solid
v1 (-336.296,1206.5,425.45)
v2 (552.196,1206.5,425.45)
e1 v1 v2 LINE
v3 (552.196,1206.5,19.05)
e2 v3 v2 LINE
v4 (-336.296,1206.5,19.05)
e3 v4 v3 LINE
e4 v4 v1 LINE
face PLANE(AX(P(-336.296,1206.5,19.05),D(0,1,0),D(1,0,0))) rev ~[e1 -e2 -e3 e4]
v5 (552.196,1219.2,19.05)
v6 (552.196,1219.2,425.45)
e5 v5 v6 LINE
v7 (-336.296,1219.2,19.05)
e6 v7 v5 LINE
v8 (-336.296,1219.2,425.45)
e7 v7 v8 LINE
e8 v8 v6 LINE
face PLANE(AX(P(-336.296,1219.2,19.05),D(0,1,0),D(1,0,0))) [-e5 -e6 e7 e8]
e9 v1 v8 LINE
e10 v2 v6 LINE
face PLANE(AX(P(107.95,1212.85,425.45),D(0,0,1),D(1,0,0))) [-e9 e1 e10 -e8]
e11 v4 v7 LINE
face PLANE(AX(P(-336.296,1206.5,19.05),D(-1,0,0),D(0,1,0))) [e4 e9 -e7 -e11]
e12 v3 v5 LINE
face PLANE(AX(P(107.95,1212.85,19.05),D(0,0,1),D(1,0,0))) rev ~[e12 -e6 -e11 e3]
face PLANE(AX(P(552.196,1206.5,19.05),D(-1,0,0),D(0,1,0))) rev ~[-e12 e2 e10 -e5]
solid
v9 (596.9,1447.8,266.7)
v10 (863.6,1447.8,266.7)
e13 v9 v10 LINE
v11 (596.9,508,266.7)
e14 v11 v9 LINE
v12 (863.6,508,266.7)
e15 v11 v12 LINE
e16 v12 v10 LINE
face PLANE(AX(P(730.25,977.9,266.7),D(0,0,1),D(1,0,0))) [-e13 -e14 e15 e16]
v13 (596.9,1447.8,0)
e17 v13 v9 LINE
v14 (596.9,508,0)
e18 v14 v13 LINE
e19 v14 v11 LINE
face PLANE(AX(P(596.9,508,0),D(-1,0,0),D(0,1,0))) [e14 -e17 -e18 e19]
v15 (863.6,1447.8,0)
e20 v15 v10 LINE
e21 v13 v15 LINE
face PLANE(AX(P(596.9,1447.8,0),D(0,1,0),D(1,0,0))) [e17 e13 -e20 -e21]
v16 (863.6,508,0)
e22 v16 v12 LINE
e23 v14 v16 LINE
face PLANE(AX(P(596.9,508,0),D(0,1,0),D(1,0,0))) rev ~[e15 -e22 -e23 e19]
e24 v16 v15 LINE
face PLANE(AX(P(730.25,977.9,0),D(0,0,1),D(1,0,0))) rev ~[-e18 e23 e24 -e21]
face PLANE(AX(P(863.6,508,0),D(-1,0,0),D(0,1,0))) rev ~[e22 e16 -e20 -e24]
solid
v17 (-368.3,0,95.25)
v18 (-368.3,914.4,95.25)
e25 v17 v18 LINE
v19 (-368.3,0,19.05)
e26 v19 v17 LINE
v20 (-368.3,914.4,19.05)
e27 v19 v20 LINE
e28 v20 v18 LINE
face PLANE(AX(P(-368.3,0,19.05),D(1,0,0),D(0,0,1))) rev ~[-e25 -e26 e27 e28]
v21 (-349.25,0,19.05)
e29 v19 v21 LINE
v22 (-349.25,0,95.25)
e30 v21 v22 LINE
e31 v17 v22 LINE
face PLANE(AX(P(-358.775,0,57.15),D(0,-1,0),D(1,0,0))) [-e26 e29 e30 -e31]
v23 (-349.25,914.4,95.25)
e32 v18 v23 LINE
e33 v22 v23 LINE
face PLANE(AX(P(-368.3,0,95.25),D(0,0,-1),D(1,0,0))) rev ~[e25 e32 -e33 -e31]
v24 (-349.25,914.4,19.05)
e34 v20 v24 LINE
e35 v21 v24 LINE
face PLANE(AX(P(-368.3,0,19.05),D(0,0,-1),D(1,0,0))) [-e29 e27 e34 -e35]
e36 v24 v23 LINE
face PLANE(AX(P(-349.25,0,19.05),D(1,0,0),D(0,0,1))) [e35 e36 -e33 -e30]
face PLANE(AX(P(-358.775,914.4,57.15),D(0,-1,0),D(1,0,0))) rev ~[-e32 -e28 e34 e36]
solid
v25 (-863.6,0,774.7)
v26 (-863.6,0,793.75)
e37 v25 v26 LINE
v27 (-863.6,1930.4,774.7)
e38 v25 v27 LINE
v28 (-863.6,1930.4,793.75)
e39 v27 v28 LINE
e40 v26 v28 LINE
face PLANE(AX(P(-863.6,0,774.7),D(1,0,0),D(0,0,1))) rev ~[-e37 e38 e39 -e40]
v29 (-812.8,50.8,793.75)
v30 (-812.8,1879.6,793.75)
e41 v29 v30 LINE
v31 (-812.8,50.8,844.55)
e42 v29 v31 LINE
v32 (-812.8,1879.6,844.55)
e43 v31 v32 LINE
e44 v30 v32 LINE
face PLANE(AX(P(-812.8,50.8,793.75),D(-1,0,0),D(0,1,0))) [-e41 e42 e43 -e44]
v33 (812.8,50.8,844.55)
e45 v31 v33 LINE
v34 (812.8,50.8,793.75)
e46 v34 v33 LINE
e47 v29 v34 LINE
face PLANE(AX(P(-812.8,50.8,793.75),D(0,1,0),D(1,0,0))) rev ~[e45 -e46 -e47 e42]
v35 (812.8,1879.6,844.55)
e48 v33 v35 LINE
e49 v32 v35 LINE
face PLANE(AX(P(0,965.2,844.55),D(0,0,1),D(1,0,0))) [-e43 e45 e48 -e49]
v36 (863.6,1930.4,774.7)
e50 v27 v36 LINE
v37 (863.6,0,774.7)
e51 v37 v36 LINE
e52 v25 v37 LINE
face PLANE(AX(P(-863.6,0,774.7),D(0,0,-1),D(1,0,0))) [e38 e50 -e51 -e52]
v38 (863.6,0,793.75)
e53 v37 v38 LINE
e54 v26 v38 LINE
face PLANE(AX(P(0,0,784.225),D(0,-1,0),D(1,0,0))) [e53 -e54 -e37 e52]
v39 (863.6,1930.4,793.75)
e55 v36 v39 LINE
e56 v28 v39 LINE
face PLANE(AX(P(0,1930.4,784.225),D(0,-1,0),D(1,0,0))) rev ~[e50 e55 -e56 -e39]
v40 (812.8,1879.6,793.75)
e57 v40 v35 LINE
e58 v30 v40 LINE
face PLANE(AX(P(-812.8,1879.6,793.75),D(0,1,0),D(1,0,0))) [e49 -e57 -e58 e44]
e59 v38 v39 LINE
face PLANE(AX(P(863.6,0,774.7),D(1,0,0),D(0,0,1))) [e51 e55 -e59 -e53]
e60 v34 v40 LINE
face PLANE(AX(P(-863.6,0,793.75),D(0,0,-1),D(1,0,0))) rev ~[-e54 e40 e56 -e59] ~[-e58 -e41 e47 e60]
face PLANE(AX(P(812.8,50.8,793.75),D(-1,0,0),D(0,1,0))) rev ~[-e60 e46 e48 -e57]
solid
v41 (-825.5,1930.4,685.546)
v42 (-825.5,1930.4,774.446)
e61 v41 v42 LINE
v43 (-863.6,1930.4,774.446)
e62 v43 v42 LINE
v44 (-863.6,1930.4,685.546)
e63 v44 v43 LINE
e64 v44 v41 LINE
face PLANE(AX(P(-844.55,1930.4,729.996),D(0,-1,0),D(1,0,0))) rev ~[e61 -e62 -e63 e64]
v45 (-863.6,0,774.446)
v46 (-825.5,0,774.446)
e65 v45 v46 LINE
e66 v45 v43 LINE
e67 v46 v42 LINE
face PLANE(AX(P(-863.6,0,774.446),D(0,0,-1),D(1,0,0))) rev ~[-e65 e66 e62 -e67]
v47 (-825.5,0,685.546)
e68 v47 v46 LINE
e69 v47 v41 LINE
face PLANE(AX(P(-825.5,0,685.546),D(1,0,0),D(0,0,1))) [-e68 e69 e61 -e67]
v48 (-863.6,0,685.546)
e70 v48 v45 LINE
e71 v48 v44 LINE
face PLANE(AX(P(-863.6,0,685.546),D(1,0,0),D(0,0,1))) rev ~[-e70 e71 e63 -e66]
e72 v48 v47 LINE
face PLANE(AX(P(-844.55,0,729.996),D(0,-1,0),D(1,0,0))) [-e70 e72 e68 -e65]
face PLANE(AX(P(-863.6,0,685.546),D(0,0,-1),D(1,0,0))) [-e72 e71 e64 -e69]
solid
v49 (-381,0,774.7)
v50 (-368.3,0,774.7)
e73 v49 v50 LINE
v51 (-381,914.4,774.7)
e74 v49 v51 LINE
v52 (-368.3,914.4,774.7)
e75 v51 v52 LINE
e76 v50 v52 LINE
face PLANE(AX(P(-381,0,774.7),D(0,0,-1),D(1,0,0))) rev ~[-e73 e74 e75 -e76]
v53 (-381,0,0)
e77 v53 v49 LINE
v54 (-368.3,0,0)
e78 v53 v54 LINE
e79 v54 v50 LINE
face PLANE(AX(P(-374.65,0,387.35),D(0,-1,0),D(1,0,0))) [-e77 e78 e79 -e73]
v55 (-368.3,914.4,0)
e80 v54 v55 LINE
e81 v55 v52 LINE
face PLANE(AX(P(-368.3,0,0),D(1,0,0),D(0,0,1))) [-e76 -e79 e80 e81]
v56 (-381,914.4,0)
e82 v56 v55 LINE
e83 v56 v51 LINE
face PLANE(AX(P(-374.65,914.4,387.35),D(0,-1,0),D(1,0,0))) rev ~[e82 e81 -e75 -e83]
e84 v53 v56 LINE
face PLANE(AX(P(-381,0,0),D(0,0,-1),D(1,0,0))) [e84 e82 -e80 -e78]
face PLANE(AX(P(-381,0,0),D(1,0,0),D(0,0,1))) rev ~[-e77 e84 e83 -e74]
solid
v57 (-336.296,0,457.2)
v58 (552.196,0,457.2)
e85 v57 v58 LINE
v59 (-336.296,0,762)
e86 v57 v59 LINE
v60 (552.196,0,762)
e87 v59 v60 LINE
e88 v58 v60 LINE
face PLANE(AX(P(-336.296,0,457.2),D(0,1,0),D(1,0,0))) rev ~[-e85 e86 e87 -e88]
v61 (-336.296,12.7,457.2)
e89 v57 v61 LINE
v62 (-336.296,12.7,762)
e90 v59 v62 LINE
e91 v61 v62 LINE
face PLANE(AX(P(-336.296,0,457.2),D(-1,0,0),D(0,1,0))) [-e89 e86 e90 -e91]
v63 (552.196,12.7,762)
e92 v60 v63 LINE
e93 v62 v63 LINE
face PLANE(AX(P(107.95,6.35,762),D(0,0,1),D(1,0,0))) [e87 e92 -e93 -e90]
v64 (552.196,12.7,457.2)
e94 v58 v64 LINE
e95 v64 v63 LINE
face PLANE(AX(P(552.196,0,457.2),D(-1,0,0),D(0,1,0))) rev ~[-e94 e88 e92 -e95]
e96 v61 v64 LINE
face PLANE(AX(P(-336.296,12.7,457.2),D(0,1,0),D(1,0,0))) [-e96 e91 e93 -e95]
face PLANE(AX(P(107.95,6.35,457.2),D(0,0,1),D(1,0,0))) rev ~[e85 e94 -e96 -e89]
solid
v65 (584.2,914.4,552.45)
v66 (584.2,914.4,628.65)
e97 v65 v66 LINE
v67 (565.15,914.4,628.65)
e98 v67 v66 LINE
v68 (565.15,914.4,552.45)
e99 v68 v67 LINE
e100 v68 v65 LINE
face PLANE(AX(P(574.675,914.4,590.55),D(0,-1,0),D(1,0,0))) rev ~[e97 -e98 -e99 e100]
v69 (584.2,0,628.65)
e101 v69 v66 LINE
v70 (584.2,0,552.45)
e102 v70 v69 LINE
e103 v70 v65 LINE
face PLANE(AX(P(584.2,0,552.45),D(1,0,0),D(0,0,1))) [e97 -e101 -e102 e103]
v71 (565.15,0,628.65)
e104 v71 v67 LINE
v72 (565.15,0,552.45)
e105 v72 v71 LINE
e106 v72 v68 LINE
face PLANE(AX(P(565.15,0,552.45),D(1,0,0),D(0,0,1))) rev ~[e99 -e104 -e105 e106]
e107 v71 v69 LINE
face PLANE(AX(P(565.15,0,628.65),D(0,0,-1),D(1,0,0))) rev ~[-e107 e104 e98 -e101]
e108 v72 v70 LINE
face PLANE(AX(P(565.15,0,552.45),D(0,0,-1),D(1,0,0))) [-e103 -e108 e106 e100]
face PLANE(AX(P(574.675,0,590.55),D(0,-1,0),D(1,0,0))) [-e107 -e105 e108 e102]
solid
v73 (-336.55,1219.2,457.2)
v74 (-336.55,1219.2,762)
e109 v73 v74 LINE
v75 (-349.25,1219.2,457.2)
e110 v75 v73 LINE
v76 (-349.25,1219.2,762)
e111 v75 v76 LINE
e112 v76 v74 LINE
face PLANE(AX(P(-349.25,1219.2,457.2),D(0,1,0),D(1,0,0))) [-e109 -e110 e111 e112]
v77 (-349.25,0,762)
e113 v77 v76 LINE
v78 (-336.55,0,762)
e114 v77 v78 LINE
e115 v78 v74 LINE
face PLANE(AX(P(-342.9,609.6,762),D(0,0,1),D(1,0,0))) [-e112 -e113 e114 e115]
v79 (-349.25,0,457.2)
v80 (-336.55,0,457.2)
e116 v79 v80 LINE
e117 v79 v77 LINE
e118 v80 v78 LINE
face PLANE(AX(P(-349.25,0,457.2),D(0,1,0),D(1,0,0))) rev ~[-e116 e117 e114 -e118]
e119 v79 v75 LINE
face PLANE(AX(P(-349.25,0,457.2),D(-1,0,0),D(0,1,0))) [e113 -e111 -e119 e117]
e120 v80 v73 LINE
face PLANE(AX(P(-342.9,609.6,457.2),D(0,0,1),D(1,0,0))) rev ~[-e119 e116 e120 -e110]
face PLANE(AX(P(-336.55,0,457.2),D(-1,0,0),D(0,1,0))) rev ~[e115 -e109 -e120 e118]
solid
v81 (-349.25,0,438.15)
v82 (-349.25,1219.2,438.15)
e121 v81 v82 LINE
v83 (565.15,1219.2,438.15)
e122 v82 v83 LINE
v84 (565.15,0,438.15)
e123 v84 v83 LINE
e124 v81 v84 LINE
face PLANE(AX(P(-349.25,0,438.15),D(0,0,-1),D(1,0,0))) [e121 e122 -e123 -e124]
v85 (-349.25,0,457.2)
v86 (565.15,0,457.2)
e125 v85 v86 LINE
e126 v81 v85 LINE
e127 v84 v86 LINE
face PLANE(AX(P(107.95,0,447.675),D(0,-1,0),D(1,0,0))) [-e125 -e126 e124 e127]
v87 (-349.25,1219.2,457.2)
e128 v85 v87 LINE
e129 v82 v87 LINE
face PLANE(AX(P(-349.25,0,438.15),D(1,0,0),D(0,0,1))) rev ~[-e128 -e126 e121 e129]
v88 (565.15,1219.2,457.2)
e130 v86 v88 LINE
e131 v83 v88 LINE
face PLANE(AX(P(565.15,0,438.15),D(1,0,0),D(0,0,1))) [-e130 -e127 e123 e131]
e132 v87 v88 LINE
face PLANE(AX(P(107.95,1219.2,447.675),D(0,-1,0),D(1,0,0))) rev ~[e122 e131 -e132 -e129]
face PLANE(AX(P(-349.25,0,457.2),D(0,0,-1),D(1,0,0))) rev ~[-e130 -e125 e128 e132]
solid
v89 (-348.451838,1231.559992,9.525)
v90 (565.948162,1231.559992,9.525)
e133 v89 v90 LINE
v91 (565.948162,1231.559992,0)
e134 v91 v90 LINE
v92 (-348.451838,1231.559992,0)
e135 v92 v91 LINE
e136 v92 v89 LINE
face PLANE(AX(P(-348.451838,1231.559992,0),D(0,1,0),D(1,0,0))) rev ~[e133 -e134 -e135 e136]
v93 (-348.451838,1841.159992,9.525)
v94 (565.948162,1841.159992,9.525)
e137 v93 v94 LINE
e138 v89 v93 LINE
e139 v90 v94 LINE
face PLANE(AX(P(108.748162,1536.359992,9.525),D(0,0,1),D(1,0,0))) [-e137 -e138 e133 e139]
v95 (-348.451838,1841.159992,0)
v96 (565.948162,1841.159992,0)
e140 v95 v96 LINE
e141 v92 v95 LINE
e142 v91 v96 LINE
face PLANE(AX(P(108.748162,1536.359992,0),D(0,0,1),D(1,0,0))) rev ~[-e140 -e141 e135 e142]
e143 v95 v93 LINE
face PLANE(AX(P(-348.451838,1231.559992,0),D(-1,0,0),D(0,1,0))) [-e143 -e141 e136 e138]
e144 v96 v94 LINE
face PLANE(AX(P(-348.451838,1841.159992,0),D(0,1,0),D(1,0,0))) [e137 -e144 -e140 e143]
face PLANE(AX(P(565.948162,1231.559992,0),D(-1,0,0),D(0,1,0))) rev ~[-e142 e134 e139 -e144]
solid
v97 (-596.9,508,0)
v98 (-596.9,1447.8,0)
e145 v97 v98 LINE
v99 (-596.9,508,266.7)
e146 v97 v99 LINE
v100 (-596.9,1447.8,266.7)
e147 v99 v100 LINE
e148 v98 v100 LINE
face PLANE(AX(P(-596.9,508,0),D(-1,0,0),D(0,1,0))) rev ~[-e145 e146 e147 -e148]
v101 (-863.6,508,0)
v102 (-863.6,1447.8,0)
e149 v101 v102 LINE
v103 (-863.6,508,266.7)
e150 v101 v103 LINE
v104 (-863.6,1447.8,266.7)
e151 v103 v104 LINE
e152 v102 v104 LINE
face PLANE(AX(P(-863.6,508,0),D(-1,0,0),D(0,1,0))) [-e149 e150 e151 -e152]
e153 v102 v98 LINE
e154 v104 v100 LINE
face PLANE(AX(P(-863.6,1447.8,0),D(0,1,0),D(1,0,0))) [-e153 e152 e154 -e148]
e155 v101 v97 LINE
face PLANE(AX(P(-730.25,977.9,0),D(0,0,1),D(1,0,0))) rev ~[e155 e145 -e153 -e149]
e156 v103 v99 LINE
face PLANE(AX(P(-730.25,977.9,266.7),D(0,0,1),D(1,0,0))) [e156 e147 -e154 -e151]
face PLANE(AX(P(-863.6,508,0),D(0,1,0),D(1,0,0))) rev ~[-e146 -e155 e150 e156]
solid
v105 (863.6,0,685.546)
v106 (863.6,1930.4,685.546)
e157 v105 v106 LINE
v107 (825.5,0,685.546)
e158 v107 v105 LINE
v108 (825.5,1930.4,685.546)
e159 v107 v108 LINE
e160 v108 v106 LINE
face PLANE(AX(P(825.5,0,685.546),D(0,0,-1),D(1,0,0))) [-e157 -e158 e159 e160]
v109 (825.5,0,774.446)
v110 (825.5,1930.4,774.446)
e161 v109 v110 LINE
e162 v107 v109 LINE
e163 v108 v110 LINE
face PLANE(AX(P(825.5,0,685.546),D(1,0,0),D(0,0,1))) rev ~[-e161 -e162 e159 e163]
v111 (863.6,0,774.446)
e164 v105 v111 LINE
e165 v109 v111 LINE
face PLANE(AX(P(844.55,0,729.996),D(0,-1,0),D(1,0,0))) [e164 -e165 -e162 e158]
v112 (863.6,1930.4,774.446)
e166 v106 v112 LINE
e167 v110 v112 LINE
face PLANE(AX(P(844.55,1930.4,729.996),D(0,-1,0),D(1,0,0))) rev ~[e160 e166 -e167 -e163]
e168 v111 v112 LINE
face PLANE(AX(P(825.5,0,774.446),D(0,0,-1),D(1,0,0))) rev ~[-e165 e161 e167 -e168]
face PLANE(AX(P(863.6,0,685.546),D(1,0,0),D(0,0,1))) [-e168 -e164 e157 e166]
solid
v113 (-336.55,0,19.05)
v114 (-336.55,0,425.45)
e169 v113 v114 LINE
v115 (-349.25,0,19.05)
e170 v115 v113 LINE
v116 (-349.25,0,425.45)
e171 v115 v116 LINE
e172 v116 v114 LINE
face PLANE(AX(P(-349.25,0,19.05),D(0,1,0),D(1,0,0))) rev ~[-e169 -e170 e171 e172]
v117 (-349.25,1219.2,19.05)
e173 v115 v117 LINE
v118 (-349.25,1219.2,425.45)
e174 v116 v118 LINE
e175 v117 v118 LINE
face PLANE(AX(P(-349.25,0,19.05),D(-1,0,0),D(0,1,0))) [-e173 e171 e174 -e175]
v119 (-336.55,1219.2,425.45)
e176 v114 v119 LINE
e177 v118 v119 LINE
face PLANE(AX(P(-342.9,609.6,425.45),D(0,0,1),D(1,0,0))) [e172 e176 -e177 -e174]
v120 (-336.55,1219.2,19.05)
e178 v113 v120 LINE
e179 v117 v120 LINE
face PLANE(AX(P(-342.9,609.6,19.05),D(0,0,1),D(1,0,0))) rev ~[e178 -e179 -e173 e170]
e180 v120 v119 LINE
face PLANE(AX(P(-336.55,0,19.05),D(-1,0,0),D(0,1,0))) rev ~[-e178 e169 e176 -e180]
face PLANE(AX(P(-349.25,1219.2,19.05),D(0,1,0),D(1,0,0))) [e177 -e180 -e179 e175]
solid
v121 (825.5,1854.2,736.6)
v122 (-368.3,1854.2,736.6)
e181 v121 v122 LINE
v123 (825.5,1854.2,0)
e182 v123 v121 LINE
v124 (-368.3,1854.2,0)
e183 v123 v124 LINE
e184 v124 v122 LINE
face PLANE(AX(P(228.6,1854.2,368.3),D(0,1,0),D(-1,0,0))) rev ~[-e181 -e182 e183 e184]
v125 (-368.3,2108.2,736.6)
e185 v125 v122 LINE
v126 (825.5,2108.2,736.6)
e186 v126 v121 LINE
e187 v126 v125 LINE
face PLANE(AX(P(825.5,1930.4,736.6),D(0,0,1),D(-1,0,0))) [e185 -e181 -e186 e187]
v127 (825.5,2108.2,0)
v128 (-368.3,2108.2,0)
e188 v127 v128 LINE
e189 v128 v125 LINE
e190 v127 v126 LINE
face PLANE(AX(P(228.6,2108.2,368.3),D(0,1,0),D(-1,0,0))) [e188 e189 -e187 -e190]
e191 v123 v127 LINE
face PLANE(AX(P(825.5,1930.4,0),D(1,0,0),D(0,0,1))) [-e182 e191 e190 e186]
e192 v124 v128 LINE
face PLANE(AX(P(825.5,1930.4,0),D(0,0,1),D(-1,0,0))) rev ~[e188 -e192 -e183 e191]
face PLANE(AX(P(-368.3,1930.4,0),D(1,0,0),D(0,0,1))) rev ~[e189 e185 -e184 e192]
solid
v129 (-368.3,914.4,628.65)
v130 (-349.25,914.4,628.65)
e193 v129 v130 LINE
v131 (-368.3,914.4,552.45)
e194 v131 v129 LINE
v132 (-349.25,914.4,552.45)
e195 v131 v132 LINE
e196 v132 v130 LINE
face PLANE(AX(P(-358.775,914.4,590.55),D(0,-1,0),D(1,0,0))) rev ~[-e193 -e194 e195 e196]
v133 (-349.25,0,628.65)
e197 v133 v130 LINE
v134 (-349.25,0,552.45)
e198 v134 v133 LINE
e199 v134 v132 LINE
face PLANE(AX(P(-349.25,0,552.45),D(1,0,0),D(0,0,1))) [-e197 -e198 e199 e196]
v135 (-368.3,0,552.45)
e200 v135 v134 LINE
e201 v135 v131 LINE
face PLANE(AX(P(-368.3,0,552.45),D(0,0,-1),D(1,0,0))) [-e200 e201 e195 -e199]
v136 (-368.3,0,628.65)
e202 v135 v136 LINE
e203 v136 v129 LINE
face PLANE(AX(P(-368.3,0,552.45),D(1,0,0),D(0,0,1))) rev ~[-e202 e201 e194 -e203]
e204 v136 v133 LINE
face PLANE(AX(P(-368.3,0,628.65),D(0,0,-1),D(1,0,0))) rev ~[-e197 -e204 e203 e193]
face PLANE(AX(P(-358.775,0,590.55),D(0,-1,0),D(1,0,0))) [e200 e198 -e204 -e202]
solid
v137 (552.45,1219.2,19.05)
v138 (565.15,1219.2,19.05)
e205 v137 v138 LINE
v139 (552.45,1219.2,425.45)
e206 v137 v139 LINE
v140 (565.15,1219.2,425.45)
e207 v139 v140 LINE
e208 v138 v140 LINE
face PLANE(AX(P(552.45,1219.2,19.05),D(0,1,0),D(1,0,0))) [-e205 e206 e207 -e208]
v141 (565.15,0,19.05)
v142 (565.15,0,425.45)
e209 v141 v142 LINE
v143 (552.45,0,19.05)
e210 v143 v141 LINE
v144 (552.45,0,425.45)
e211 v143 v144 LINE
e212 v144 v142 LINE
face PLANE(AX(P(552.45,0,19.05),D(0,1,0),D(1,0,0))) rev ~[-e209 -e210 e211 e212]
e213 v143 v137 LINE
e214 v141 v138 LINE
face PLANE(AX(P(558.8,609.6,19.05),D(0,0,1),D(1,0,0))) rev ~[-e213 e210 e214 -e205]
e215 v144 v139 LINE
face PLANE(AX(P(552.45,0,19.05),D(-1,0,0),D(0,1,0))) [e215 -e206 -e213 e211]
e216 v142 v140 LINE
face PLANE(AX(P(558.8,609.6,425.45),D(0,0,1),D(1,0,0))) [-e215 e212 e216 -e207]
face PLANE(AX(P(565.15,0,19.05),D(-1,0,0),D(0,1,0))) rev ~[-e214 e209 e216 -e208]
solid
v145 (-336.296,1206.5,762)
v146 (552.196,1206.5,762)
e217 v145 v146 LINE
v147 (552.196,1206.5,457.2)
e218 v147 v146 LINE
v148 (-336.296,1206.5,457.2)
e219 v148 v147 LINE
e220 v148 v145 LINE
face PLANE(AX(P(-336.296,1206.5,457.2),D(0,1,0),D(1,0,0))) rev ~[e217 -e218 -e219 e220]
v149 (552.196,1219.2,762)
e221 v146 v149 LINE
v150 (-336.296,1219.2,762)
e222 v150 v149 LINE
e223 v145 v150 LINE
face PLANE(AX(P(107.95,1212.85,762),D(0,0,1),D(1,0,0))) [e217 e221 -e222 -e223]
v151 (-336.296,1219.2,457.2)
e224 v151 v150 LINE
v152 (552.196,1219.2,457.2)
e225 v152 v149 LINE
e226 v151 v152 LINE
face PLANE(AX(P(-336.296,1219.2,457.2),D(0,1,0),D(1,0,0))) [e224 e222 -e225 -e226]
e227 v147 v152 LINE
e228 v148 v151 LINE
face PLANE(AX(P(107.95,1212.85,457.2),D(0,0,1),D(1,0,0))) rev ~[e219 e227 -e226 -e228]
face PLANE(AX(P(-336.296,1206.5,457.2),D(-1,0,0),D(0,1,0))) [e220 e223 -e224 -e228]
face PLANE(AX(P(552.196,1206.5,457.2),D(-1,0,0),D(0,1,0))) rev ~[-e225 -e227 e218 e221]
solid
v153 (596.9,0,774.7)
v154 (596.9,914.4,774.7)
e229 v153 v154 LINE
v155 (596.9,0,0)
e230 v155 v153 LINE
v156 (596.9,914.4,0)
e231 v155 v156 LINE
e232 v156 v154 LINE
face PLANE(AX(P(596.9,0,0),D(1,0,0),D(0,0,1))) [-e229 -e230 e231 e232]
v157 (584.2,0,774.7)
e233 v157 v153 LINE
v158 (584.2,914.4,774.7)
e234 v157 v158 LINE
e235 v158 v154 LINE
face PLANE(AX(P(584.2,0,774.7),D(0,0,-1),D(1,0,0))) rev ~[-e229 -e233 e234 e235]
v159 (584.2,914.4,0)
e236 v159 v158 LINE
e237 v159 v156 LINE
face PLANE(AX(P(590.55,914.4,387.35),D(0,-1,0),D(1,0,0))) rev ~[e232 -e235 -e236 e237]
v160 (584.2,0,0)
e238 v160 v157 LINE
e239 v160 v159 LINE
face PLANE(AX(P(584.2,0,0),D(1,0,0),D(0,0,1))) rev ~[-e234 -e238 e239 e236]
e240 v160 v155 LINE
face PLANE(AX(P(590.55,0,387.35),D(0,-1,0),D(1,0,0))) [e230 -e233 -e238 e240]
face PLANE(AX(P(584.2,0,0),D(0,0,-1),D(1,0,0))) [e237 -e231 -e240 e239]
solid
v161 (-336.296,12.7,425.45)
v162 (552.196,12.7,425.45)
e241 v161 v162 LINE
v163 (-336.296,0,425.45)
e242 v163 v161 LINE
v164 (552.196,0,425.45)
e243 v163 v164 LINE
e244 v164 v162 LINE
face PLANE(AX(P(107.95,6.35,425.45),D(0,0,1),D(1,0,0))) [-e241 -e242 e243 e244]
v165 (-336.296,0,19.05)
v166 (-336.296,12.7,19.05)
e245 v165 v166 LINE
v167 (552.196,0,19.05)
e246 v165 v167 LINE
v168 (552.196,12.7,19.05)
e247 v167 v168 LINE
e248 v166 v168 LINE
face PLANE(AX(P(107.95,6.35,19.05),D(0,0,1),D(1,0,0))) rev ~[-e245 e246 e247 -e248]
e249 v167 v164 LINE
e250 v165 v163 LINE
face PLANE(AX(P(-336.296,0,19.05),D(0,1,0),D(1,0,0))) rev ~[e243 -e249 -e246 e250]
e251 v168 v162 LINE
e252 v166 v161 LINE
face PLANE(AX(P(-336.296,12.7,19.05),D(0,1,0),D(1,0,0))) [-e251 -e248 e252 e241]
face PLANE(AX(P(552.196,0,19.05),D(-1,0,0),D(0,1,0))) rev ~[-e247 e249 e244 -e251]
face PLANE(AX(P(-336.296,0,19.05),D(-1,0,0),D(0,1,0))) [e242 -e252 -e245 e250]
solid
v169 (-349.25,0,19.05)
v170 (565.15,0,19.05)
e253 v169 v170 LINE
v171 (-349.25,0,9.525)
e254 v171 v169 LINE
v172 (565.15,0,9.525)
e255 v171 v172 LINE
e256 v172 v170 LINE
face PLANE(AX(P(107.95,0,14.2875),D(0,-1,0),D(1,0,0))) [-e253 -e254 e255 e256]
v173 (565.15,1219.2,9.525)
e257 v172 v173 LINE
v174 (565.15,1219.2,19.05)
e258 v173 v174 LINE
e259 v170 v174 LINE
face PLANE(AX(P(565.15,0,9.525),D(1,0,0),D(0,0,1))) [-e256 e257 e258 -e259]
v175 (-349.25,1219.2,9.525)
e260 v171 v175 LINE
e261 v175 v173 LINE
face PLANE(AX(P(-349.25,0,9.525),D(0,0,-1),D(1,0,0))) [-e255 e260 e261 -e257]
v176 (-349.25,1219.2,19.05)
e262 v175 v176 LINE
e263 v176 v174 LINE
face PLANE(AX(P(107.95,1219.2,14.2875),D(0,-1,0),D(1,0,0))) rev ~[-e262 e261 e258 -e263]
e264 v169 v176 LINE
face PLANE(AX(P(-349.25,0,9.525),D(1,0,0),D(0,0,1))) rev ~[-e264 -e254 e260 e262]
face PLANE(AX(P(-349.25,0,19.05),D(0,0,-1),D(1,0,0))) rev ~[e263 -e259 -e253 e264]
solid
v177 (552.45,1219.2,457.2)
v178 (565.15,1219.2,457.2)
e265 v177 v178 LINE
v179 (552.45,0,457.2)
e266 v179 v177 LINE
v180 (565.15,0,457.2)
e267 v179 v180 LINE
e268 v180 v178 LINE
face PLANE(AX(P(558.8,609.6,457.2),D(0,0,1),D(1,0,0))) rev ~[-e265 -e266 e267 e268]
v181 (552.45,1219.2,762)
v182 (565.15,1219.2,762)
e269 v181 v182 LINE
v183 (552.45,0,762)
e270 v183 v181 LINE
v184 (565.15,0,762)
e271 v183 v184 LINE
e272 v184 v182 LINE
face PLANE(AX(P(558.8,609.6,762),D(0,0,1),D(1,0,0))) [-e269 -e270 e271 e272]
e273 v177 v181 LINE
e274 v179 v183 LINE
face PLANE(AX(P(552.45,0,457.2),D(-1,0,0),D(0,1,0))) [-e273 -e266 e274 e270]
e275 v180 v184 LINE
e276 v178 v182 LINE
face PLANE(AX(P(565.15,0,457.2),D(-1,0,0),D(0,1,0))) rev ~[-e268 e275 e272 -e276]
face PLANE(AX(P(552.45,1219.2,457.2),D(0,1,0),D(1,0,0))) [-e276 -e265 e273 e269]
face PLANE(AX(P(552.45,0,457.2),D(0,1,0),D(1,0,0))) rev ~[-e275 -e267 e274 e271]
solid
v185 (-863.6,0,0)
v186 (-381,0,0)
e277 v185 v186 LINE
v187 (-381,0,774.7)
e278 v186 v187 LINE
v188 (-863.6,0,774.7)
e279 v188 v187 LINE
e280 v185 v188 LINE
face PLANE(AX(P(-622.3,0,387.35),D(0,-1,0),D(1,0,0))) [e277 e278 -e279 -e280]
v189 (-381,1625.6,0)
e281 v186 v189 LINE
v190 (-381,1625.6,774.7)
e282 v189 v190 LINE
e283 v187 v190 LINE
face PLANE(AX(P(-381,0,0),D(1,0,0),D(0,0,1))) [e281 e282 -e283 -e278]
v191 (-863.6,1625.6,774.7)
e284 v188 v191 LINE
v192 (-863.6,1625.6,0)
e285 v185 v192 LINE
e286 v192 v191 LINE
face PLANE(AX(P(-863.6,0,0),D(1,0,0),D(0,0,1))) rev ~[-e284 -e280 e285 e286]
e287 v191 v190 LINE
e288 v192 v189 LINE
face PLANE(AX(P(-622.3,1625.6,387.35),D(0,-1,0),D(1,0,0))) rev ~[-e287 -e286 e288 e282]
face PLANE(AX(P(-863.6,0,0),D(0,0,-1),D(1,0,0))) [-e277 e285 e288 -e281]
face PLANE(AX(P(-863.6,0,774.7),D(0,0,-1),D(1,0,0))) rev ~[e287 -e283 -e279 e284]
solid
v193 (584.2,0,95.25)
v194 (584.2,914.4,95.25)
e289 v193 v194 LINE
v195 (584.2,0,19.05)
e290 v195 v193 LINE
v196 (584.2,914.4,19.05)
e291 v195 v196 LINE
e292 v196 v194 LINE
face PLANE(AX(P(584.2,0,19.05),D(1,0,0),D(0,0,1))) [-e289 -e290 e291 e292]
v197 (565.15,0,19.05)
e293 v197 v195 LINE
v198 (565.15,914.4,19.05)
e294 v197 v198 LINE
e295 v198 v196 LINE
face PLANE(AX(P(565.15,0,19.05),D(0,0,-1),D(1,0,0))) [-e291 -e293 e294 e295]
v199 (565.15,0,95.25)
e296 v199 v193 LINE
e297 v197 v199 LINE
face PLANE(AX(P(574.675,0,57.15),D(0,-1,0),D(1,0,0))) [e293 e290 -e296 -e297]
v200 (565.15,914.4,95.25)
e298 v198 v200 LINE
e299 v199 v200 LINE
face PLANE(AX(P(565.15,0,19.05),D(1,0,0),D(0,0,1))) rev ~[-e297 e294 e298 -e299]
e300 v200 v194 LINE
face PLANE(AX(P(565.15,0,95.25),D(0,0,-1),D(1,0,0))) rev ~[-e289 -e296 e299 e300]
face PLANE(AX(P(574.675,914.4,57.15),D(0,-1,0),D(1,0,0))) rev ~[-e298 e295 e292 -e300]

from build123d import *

# Parameters (mm, degrees)
F0_W           = 1727.2
F0_H           = 19.05
F1_DEPTH       = 1930.4
F0_W_2         = 38.1
F0_H_2         = 88.9
F3_W           = 266.7
F3_H           = 939.8
F4_DEPTH       = 266.7
F5_W           = 12.7
F5_H           = 774.7
F6_DEPTH       = 914.4
F7_W           = 19.05
F7_H           = 76.2
F8_DEPTH       = 914.4
F9_W           = 914.4
F9_H           = 9.525
F10_DEPTH      = 1219.2
F11_W          = 12.7
F11_H          = 1219.2
F12_DEPTH      = 406.4
F11_W_2        = 888.492
F11_H_2        = 12.7
F13_W          = 1625.6
F13_H          = 1828.8
F14_DEPTH      = 50.8
F15_W          = 1193.8
F15_H          = 736.6
F16_DEPTH      = 76.2
F16_DEPTH_BACK = 177.8
F17_W          = 482.6
F17_H          = 774.7
F18_DEPTH      = 1625.6
F19_W          = 914.4
F19_H          = 609.6
F20_DEPTH      = 9.525
F21_W          = 914.4
F21_H          = 19.05
F22_DEPTH      = 1219.2
F23_W          = 12.7
F23_H          = 1219.2
F24_DEPTH      = 304.8
F23_W_2        = 888.492
F23_H_2        = 12.7


with BuildPart() as f1:
    # F0 (on Front) → F1 (new body)
    with BuildSketch(Plane.XZ):
        with Locations((0, 784.225)):
            Rectangle(F0_W, F0_H)
    extrude(amount=-F1_DEPTH)

    # F13 (on face) → F14 (join)
    with BuildSketch(Plane.XY.offset(793.75)):
        with Locations((0, 965.2)):
            Rectangle(F13_W, F13_H)
    extrude(amount=F14_DEPTH)


with BuildPart() as f1b:
    # F0 (on Front) → F1, piece 2 (new body)
    with BuildSketch(Plane.XZ):
        with Locations((844.55, 729.996)):
            Rectangle(F0_W_2, F0_H_2)
    extrude(amount=-F1_DEPTH)


with BuildPart() as f1c:
    # F0 (on Front) → F1, piece 3 (new body)
    with BuildSketch(Plane.XZ):
        with Locations((-844.55, 729.996)):
            Rectangle(F0_W_2, F0_H_2)
    extrude(amount=-F1_DEPTH)


with BuildPart() as f4:
    # F3 (on Top) → F4 (new body)
    with BuildSketch(Plane.XY):
        with Locations((730.25, 977.9)):
            Rectangle(F3_W, F3_H)
    extrude(amount=F4_DEPTH)


with BuildPart() as f4b:
    # F3 (on Top) → F4, piece 2 (new body)
    with BuildSketch(Plane.XY):
        with Locations((-730.25, 977.9)):
            Rectangle(F3_W, F3_H)
    extrude(amount=F4_DEPTH)


with BuildPart() as f6:
    # F5 (on Front) → F6 (new body)
    with BuildSketch(Plane.XZ):
        with Locations((-374.65, 387.35)):
            Rectangle(F5_W, F5_H)
    extrude(amount=-F6_DEPTH)


with BuildPart() as f6b:
    # F5 (on Front) → F6, piece 2 (new body)
    with BuildSketch(Plane.XZ):
        with Locations((590.55, 387.35)):
            Rectangle(F5_W, F5_H)
    extrude(amount=-F6_DEPTH)


with BuildPart() as f8:
    # F7 (on Front) → F8 (new body)
    with BuildSketch(Plane.XZ):
        with Locations((-358.775, 57.15)):
            Rectangle(F7_W, F7_H)
    extrude(amount=-F8_DEPTH)


with BuildPart() as f8b:
    # F7 (on Front) → F8, piece 2 (new body)
    with BuildSketch(Plane.XZ):
        with Locations((574.675, 57.15)):
            Rectangle(F7_W, F7_H)
    extrude(amount=-F8_DEPTH)


with BuildPart() as f8c:
    # F7 (on Front) → F8, piece 3 (new body)
    with BuildSketch(Plane.XZ):
        with Locations((-358.775, 590.55)):
            Rectangle(F7_W, F7_H)
    extrude(amount=-F8_DEPTH)


with BuildPart() as f8d:
    # F7 (on Front) → F8, piece 4 (new body)
    with BuildSketch(Plane.XZ):
        with Locations((574.675, 590.55)):
            Rectangle(F7_W, F7_H)
    extrude(amount=-F8_DEPTH)


with BuildPart() as f10:
    # F9 (on Front) → F10 (new body)
    with BuildSketch(Plane.XZ):
        with Locations((107.95, 14.2875)):
            Rectangle(F9_W, F9_H)
    extrude(amount=-F10_DEPTH)


with BuildPart() as f12:
    # F11 (on face) → F12 (new body)
    with BuildSketch(Plane.XY.offset(19.05)):
        with Locations((-342.9, 609.6)):
            Rectangle(F11_W, F11_H)
    extrude(amount=F12_DEPTH)


with BuildPart() as f12b:
    # F11 (on face) → F12, piece 2 (new body)
    with BuildSketch(Plane.XY.offset(19.05)):
        with Locations((558.8, 609.6)):
            Rectangle(F11_W, F11_H)
    extrude(amount=F12_DEPTH)


with BuildPart() as f12c:
    # F11 (on face) → F12, piece 3 (new body)
    with BuildSketch(Plane.XY.offset(19.05)):
        with Locations((107.95, 1212.85)):
            Rectangle(F11_W_2, F11_H_2)
    extrude(amount=F12_DEPTH)


with BuildPart() as f12d:
    # F11 (on face) → F12, piece 4 (new body)
    with BuildSketch(Plane.XY.offset(19.05)):
        with Locations((107.95, 6.35)):
            Rectangle(F11_W_2, F11_H_2)
    extrude(amount=F12_DEPTH)


with BuildPart() as f16:
    # F15 (on face) → F16 (new body, two sides)
    with BuildSketch(Plane(origin=(0, 1930.4, 0), x_dir=(-1, 0, 0), z_dir=(0, 1, 0))) as f16_sk:
        with Locations((-228.6, 368.3)):
            Rectangle(F15_W, F15_H)
    extrude(amount=-F16_DEPTH)
    extrude(f16_sk.sketch, amount=F16_DEPTH_BACK)


with BuildPart() as f18:
    # F17 (on face) → F18 (new body)
    with BuildSketch(Plane.XZ):
        with Locations((-622.3, 387.35)):
            Rectangle(F17_W, F17_H)
    extrude(amount=-F18_DEPTH)


with BuildPart() as f20:
    # F19 (on Top) → F20 (new body)
    with BuildSketch(Plane.XY):
        with Locations((108.7481622696, 1536.3599918365)):
            Rectangle(F19_W, F19_H)
    extrude(amount=F20_DEPTH)


with BuildPart() as f22:
    # F21 (on face) → F22 (new body, through all)
    with BuildSketch(Plane.XZ):
        with Locations((107.95, 447.675)):
            Rectangle(F21_W, F21_H)
    extrude(amount=-F22_DEPTH)


with BuildPart() as f24:
    # F23 (on face) → F24 (new body, through all)
    with BuildSketch(Plane.XY.offset(457.2)):
        with Locations((-342.9, 609.6)):
            Rectangle(F23_W, F23_H)
    extrude(amount=F24_DEPTH)


with BuildPart() as f24b:
    # F23 (on face) → F24, piece 2 (new body, through all)
    with BuildSketch(Plane.XY.offset(457.2)):
        with Locations((558.8, 609.6)):
            Rectangle(F23_W, F23_H)
    extrude(amount=F24_DEPTH)


with BuildPart() as f24c:
    # F23 (on face) → F24, piece 3 (new body, through all)
    with BuildSketch(Plane.XY.offset(457.2)):
        with Locations((107.95, 6.35)):
            Rectangle(F23_W_2, F23_H_2)
    extrude(amount=F24_DEPTH)


with BuildPart() as f24d:
    # F23 (on face) → F24, piece 4 (new body, through all)
    with BuildSketch(Plane.XY.offset(457.2)):
        with Locations((107.95, 1212.85)):
            Rectangle(F23_W_2, F23_H_2)
    extrude(amount=F24_DEPTH)


solid = Compound([f1.part, f1b.part, f1c.part, f4.part, f4b.part, f6.part, f6b.part, f8.part, f8b.part, f8c.part, f8d.part, f10.part, f12.part, f12b.part, f12c.part, f12d.part, f16.part, f18.part, f20.part, f22.part, f24.part, f24b.part, f24c.part, f24d.part])
